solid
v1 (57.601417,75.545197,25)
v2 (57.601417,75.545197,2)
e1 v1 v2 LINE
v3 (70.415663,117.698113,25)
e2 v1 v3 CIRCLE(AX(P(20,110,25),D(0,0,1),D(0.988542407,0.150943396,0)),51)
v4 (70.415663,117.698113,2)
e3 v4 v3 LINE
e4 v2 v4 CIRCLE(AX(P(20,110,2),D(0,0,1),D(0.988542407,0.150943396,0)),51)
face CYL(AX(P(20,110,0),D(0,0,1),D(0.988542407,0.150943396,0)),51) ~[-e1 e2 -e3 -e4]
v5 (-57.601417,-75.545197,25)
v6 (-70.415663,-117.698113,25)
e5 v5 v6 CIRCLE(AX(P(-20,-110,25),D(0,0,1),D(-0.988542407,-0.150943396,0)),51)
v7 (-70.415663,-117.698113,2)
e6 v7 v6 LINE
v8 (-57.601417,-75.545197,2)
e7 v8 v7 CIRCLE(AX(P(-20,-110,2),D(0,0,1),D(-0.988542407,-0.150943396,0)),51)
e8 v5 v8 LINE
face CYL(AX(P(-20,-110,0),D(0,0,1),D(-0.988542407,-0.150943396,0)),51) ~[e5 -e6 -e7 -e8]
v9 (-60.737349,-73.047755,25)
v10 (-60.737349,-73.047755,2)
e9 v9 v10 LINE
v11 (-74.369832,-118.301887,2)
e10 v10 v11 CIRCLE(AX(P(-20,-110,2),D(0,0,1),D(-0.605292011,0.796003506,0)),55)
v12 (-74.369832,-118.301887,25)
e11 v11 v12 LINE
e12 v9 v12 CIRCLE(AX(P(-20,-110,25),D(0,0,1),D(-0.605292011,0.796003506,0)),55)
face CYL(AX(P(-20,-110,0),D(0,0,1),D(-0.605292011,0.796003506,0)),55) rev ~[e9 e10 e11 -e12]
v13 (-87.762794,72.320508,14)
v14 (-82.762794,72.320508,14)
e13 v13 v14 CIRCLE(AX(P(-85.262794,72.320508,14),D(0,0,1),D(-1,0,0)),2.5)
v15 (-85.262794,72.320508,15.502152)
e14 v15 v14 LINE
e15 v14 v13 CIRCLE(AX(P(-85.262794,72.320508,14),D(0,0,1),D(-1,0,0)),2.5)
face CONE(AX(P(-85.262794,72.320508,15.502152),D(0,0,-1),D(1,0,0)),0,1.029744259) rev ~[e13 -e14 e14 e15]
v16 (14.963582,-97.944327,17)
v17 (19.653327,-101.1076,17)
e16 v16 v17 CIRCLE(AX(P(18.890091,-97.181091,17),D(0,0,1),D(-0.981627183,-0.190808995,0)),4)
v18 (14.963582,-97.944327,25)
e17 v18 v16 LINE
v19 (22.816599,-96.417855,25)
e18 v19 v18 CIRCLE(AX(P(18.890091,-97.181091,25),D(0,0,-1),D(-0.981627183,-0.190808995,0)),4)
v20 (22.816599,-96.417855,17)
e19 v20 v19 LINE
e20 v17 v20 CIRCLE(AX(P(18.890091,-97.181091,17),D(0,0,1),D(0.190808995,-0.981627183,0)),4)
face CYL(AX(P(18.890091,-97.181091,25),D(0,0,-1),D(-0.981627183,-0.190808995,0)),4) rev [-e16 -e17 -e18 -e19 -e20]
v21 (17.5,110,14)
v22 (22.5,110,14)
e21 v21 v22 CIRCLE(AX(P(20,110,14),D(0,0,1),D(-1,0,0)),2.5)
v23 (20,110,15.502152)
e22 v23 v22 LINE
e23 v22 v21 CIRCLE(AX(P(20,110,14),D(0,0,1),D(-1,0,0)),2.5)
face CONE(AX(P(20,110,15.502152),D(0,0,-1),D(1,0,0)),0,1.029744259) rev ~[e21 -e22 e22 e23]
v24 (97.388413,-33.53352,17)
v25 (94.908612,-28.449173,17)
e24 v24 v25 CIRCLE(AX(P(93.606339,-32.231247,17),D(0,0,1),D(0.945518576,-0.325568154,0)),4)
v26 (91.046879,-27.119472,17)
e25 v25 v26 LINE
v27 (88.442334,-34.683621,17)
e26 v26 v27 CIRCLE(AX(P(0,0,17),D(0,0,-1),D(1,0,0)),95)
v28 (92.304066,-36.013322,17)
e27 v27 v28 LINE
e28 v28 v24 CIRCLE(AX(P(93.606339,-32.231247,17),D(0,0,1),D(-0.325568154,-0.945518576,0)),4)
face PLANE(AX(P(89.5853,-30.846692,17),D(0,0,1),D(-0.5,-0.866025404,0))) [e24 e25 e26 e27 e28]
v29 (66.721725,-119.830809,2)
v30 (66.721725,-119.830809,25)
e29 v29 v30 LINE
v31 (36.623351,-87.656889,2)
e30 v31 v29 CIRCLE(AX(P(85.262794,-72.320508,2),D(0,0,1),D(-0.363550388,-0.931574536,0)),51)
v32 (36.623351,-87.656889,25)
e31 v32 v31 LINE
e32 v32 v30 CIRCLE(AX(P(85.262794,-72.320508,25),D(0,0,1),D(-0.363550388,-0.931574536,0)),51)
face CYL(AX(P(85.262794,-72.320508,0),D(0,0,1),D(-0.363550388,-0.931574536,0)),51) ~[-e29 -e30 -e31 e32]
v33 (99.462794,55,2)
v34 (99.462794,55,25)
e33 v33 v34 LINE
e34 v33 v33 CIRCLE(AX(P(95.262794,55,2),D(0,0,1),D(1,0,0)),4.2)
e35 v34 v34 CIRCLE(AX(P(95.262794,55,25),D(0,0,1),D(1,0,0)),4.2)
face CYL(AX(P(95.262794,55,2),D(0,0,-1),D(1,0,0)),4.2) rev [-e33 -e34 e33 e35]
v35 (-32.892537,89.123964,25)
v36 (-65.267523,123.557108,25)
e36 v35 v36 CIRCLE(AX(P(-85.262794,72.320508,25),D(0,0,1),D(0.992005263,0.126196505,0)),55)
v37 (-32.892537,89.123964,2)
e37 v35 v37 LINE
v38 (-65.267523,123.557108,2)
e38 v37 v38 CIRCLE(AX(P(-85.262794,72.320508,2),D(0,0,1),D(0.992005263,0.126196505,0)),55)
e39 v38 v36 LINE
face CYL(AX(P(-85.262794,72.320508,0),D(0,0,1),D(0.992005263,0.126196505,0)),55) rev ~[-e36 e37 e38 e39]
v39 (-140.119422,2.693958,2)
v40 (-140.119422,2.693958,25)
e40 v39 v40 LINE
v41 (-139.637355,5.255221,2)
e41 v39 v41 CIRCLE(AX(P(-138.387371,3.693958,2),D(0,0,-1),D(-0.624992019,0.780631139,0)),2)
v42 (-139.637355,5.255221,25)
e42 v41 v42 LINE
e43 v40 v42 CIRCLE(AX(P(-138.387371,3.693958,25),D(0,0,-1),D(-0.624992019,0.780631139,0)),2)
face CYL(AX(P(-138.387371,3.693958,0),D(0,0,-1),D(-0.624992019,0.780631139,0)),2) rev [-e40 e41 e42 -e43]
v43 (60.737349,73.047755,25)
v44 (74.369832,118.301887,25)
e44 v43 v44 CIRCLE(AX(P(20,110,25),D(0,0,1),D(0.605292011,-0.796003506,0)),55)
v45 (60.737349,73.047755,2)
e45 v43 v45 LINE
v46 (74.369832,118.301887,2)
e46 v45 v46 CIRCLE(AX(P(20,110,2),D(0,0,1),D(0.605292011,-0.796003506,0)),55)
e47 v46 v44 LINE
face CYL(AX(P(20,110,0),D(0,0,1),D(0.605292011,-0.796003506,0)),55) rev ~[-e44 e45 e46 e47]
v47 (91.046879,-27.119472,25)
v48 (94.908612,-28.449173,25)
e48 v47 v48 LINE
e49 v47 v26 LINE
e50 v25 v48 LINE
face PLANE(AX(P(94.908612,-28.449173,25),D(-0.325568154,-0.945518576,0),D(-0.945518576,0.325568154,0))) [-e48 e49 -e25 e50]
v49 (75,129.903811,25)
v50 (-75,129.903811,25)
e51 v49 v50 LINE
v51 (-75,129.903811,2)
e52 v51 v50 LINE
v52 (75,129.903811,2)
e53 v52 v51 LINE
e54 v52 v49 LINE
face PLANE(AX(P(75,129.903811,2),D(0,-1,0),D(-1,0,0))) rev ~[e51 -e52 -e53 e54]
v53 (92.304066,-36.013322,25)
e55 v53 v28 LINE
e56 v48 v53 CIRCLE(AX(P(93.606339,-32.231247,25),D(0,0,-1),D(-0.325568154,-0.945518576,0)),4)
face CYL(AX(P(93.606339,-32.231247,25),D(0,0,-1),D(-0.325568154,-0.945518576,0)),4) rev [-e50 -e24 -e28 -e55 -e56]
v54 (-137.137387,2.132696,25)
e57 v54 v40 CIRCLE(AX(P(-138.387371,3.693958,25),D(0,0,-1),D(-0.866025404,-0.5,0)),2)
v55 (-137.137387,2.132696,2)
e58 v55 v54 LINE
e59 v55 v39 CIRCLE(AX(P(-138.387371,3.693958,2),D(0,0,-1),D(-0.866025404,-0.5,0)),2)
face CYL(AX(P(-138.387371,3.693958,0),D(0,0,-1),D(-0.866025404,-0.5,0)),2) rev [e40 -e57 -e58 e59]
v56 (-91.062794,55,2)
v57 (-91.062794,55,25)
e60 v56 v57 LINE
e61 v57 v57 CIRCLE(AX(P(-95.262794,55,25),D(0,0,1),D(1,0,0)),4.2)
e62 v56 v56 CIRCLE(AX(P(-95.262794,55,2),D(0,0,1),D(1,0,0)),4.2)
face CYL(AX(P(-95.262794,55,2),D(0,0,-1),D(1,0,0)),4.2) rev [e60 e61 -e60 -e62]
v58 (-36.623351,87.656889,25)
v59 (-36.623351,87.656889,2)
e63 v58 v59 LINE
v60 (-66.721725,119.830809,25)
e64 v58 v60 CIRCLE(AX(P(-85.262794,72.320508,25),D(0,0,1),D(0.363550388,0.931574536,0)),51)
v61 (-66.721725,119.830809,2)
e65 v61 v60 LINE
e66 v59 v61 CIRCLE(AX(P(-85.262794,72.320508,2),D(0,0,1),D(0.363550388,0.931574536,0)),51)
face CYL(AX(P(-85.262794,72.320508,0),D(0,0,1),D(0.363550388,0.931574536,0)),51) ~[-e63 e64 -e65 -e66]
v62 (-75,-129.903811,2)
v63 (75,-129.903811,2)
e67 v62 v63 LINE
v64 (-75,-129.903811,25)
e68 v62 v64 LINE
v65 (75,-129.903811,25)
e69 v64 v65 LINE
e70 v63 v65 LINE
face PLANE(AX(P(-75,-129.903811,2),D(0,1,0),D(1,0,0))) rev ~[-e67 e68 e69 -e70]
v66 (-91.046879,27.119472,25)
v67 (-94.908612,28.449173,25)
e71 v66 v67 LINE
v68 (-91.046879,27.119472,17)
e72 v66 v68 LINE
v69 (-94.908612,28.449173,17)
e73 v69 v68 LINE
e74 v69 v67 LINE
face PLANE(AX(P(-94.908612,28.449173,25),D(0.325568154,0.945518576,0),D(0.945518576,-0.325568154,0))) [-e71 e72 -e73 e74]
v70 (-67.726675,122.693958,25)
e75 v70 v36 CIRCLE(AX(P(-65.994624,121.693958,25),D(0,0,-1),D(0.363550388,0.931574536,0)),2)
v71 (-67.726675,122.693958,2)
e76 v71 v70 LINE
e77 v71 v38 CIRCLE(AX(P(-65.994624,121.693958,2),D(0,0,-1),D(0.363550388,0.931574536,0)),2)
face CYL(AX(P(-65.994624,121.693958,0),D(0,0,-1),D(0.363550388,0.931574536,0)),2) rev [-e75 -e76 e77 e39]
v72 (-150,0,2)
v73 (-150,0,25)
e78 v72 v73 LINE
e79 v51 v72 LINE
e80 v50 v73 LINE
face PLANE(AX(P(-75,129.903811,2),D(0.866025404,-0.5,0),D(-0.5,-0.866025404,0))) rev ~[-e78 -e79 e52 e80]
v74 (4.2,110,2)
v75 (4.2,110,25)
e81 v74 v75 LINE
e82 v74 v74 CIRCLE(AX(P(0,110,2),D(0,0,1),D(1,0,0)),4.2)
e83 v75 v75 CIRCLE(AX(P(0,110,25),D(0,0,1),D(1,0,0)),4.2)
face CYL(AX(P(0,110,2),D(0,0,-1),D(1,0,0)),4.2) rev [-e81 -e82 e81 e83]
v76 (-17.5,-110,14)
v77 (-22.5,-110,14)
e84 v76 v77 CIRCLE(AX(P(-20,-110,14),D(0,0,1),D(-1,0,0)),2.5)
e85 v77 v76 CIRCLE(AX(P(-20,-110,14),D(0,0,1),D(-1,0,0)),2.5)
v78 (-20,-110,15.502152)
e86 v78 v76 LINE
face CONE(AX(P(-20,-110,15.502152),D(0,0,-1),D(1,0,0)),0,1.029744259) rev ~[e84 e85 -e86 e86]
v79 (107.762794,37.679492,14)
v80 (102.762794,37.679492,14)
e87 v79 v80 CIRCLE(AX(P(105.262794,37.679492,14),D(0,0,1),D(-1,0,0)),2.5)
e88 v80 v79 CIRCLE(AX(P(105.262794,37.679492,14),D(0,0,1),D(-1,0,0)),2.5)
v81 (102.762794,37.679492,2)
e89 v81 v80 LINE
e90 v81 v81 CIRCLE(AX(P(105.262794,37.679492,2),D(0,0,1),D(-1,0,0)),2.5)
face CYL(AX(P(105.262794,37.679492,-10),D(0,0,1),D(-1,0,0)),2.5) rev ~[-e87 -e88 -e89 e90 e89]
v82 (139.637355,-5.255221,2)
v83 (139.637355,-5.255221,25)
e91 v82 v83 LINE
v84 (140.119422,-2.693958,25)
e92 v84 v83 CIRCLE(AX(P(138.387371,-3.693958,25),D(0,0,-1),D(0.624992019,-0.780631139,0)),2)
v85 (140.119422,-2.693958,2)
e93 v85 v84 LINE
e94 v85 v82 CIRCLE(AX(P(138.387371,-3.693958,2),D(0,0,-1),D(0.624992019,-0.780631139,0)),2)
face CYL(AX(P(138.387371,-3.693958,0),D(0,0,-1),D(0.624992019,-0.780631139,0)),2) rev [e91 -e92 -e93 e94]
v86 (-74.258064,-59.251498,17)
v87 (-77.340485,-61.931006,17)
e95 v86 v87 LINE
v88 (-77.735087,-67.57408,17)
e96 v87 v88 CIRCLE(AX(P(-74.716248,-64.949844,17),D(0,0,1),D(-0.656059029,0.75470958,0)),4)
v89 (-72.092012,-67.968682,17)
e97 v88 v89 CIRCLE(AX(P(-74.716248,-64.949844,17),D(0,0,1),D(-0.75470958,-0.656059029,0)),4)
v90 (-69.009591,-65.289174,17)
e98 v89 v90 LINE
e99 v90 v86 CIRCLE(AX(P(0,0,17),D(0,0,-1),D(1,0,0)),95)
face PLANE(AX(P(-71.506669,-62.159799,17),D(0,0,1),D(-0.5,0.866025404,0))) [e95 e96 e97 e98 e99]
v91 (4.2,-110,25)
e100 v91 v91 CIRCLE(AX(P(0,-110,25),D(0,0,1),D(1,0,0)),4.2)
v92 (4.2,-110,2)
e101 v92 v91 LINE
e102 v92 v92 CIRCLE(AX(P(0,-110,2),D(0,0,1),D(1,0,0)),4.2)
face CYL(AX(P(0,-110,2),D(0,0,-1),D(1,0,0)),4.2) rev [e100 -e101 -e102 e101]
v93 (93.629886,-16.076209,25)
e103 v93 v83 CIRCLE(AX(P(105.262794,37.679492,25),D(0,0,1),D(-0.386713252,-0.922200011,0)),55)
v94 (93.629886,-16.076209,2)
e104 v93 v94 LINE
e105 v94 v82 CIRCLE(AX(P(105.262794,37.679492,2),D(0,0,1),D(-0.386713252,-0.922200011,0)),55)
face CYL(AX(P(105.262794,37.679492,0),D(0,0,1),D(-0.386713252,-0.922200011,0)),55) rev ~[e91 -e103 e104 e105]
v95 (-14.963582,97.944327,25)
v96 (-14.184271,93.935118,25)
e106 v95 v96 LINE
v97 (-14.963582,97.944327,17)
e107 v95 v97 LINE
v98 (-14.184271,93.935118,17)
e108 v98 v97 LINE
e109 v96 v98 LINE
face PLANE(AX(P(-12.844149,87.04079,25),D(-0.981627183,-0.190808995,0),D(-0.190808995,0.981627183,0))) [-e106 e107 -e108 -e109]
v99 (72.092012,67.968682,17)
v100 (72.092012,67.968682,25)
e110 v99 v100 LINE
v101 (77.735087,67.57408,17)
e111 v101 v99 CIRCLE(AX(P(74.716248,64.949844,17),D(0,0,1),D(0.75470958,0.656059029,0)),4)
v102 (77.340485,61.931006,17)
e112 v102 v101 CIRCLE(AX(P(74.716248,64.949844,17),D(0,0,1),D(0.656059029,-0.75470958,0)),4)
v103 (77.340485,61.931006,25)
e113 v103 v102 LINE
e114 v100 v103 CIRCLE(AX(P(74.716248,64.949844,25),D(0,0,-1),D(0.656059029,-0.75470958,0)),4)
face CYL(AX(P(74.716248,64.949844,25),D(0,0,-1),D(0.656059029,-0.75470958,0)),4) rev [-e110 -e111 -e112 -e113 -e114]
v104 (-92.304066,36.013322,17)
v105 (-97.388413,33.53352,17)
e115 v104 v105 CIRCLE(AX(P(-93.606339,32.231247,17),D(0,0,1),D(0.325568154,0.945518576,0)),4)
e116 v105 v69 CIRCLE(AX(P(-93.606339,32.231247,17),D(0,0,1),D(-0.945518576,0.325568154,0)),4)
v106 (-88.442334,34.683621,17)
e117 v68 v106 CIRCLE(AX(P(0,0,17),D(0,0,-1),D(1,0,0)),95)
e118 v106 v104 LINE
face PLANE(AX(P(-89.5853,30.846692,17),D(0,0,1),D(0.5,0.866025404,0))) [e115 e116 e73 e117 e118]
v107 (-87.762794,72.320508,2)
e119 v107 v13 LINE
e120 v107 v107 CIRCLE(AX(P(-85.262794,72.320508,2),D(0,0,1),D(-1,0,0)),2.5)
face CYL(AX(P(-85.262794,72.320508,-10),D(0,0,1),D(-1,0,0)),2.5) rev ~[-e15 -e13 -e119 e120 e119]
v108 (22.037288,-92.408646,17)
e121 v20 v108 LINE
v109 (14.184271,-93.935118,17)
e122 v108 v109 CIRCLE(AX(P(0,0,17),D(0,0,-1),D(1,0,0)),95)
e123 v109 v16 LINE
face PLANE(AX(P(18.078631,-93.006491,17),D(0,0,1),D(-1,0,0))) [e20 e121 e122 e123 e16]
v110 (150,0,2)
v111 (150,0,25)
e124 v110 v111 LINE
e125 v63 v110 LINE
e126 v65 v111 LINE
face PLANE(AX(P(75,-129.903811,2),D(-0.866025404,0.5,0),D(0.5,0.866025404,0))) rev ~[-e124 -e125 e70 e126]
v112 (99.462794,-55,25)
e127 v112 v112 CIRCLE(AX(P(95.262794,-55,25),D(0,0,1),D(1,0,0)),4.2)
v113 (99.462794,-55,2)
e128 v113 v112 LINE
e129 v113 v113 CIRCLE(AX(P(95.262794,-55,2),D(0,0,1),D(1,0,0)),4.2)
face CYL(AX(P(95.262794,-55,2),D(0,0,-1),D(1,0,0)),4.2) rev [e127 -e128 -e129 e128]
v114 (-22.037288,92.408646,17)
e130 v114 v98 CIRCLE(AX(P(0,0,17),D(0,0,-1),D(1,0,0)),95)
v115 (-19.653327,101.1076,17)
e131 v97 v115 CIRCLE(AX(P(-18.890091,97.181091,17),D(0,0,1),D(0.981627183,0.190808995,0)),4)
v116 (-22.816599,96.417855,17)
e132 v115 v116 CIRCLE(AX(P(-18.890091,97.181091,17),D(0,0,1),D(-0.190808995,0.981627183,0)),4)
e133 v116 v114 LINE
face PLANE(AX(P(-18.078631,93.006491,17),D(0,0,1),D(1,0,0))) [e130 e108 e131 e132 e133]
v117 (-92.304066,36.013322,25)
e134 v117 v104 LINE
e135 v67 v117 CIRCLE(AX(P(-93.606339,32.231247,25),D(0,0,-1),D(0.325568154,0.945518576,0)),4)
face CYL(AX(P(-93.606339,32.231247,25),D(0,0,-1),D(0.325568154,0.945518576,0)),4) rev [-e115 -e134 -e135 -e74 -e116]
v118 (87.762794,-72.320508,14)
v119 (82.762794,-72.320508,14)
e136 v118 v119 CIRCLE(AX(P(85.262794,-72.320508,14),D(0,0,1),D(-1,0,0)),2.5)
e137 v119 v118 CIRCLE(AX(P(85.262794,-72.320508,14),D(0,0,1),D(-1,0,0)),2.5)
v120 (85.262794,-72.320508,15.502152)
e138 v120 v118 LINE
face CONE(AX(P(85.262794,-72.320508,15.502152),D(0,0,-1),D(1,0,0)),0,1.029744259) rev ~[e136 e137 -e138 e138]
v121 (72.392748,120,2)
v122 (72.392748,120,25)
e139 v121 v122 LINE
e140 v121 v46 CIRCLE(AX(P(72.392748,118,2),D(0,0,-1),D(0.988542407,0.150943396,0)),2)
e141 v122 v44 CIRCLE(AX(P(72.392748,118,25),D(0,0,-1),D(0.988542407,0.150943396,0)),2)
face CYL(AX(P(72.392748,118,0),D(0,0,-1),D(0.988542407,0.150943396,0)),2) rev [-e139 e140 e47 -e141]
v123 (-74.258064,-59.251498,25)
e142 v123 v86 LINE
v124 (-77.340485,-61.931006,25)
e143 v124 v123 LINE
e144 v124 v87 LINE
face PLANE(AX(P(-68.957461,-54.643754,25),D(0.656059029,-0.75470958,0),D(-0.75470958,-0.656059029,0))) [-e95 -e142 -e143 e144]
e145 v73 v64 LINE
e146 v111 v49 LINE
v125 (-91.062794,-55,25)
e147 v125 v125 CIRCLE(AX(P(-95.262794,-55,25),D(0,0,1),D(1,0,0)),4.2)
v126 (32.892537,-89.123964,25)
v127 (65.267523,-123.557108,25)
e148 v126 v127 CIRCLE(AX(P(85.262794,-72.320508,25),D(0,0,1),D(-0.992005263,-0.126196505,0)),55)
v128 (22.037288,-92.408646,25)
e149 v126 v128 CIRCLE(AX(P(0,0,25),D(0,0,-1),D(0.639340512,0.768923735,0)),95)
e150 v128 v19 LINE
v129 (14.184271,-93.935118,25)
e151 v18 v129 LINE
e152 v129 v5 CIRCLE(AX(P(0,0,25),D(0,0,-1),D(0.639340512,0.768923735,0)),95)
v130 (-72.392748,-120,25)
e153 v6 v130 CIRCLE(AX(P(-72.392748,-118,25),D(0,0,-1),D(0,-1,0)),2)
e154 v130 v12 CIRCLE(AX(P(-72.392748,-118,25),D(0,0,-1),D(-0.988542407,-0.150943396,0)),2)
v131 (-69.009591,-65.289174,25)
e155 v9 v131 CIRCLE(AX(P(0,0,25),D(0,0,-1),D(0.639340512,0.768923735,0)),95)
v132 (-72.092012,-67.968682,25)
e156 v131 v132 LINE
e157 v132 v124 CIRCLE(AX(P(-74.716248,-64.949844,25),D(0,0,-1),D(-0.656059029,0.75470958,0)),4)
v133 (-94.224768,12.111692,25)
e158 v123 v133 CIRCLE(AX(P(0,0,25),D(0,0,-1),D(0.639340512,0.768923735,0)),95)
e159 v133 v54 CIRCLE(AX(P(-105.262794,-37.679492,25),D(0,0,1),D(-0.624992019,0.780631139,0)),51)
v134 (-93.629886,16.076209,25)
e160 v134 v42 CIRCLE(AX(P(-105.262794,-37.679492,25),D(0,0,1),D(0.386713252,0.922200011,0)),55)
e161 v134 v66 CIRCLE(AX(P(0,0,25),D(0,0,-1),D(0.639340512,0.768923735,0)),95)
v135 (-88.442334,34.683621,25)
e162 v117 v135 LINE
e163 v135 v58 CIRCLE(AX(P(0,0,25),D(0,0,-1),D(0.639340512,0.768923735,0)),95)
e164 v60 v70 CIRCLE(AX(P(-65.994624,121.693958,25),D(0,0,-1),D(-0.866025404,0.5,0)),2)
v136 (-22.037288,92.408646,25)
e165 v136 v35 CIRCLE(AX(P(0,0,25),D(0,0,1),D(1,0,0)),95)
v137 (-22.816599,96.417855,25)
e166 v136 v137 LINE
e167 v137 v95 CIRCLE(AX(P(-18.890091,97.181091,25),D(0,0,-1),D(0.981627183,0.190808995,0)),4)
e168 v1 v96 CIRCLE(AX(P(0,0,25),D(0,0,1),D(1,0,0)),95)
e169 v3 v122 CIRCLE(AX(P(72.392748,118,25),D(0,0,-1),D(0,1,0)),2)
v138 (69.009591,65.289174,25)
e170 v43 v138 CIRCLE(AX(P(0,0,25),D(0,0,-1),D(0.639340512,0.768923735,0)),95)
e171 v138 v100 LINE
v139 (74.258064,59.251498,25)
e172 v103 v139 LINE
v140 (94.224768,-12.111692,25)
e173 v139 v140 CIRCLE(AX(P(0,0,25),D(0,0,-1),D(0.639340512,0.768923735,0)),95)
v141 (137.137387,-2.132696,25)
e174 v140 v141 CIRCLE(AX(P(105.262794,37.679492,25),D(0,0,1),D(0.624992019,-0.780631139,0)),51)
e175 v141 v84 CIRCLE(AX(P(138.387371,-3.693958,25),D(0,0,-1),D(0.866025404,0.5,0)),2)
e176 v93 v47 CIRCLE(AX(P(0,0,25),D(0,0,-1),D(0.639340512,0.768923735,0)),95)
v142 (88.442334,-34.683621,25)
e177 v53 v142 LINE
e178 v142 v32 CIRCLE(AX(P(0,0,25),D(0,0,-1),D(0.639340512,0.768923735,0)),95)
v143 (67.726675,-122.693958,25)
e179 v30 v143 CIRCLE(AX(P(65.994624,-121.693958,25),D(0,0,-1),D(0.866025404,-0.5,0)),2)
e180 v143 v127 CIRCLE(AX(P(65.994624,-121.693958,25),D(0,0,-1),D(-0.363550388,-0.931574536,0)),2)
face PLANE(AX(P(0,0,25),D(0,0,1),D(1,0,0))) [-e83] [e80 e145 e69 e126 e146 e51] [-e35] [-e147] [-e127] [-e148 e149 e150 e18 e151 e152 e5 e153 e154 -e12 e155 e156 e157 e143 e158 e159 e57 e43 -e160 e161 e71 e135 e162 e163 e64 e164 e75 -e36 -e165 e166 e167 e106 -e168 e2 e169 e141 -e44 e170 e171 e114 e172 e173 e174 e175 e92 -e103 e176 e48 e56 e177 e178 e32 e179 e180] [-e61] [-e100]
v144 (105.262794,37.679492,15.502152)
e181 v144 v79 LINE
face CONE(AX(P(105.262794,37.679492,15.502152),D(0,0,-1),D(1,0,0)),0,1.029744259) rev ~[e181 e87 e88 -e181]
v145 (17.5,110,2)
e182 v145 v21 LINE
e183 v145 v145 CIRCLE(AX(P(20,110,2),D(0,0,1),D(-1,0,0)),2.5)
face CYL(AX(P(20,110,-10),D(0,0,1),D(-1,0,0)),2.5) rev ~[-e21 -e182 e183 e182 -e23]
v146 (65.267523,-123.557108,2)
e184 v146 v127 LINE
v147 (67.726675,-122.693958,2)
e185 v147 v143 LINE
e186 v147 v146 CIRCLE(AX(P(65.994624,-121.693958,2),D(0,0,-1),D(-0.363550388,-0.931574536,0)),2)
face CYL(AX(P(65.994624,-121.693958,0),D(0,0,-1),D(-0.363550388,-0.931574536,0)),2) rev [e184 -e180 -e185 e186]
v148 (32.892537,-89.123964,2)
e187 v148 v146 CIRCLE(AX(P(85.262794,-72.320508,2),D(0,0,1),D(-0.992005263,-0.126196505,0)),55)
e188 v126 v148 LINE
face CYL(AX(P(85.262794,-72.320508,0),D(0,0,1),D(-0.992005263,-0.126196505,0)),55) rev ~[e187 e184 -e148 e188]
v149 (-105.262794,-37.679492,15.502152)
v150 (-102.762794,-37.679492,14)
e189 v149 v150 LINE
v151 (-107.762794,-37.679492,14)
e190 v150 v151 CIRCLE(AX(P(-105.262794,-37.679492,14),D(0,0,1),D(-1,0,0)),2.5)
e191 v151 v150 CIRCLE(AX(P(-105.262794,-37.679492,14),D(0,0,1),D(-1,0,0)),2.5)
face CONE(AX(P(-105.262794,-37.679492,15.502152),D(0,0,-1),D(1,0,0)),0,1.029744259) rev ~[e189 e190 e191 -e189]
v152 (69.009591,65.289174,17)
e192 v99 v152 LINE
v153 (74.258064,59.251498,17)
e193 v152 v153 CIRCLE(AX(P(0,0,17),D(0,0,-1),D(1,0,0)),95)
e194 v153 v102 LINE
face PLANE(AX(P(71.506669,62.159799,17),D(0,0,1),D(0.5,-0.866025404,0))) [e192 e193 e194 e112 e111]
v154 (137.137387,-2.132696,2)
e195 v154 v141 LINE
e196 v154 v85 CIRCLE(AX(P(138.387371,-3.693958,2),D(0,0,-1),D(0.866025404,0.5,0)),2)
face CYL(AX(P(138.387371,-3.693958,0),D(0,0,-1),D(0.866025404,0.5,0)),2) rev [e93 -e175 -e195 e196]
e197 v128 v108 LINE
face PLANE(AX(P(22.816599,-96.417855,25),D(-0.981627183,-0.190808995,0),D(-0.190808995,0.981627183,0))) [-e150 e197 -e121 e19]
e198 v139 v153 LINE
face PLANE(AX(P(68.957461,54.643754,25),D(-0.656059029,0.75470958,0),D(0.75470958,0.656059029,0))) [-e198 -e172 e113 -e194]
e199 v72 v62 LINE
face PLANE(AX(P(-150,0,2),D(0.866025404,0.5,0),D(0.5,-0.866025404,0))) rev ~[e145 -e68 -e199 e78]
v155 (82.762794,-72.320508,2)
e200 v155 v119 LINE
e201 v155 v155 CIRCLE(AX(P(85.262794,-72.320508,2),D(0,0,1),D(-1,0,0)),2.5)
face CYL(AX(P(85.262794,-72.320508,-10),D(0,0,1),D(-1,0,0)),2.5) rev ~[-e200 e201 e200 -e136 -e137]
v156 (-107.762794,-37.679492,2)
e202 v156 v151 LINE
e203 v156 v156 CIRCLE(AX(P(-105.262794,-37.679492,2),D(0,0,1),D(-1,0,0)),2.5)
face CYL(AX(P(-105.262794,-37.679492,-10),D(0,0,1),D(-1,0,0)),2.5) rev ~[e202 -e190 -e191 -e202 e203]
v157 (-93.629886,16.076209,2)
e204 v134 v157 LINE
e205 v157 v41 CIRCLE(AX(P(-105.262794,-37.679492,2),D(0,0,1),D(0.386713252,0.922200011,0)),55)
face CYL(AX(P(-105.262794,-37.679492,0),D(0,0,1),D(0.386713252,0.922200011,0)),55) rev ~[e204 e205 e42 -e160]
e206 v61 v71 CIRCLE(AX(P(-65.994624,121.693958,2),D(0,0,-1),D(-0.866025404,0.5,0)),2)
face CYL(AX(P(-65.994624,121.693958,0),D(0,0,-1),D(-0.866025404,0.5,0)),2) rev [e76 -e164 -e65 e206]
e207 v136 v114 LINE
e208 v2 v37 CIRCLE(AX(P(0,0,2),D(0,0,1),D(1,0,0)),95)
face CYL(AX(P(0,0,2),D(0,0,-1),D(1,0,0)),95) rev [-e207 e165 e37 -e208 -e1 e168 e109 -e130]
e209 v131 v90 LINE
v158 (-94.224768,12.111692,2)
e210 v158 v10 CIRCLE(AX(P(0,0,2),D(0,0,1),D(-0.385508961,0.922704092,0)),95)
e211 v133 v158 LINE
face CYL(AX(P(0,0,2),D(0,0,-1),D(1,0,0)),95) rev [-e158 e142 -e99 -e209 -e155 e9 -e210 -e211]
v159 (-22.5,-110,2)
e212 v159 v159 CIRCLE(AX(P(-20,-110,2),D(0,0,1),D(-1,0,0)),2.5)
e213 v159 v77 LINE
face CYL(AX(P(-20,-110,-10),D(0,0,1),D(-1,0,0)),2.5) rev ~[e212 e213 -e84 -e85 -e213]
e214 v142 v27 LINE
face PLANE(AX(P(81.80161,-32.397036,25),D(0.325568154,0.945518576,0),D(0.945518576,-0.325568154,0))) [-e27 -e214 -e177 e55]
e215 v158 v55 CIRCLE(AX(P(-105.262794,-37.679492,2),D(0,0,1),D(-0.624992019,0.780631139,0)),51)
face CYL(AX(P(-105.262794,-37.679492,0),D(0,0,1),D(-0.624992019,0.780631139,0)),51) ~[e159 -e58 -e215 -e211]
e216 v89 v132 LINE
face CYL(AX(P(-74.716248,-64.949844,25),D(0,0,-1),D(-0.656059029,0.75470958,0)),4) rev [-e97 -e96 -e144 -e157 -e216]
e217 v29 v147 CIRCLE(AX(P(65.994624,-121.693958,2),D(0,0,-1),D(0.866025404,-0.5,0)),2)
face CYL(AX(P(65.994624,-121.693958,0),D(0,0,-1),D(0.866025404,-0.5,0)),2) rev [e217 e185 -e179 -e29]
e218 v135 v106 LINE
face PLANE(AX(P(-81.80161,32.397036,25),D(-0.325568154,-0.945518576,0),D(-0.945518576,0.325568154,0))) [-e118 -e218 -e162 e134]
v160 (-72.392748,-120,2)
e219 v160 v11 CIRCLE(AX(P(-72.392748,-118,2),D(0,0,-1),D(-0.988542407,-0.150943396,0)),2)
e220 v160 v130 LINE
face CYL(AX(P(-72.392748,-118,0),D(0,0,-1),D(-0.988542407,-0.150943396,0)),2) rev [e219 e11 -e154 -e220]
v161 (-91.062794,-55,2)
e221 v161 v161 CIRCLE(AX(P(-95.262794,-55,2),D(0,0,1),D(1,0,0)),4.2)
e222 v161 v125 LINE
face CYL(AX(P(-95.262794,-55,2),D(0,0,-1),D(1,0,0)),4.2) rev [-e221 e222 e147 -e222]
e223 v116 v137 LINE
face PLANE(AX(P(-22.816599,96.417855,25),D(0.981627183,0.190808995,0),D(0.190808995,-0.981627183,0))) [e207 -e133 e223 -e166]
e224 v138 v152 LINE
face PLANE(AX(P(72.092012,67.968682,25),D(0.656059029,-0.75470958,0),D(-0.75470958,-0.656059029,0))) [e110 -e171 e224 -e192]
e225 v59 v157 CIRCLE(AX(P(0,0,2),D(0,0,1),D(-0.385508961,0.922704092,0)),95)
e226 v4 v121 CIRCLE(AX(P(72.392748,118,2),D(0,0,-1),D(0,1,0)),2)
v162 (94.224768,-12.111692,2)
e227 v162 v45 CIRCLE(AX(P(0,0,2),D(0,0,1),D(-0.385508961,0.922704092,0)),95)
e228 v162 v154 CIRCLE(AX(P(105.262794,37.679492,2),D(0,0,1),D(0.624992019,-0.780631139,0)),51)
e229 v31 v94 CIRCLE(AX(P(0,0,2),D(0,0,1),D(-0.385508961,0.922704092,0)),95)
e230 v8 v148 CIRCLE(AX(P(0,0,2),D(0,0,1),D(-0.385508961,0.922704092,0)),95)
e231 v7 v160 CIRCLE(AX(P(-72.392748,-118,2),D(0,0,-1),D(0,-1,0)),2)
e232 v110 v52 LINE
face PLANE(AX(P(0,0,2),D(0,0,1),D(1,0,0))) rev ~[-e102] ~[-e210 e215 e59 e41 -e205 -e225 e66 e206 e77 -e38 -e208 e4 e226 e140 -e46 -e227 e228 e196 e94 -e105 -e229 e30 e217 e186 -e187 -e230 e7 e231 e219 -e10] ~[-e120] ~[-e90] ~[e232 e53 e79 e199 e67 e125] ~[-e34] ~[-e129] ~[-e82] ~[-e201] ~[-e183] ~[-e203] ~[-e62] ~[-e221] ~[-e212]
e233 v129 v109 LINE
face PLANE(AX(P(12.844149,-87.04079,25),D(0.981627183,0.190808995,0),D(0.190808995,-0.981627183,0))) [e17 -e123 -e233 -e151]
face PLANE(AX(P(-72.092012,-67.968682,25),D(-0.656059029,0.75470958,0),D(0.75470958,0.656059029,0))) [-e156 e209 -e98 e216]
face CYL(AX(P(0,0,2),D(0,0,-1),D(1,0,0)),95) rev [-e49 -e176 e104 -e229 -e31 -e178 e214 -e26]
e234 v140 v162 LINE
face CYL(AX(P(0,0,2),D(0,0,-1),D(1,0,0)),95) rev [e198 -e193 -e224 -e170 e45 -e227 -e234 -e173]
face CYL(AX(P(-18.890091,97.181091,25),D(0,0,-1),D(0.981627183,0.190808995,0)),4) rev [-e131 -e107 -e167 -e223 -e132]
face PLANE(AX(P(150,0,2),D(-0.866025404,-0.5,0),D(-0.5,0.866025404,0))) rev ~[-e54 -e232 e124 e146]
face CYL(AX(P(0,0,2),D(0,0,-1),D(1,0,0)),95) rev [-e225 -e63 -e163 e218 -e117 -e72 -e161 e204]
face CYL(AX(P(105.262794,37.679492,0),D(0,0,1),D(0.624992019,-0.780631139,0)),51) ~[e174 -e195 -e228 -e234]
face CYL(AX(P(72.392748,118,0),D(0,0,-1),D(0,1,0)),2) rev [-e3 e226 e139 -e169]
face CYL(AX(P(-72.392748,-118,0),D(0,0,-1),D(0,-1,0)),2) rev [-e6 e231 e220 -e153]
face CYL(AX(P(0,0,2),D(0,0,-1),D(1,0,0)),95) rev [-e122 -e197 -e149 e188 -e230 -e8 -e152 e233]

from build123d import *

# Parameters (mm, degrees)
F2_START      = 2
F0_R          = 4.2
F0_R_2        = 95
F2_DEPTH      = 23
F4_DEPTH      = 35
F4_DEPTH_BACK = 10
F5_COUNT      = 6
F8_DEPTH      = 8
F8_DEPTH_BACK = 10
F9_COUNT      = 6
F12_D         = 5
F12_DEPTH     = 12
F12_START     = 2
F12_TIP       = 1.5021515476


with BuildPart() as f2:
    # F0 (on Top) → F2 (new body)
    with BuildSketch(Plane.XY.offset(F2_START)):
        Polygon((75, 129.9038105677), (-75, 129.9038105677), (-150, 0), (-75, -129.9038105677), (75, -129.9038105677), (150, 0), align=None)
        with Locations((-95.2627944163, -55)):
            Circle(F0_R, mode=Mode.SUBTRACT)
        with Locations((0, -110)):
            Circle(F0_R, mode=Mode.SUBTRACT)
        with Locations((95.2627944163, -55)):
            Circle(F0_R, mode=Mode.SUBTRACT)
        with Locations((-95.2627944163, 55)):
            Circle(F0_R, mode=Mode.SUBTRACT)
        Circle(F0_R_2, mode=Mode.SUBTRACT)
        with Locations((95.2627944163, 55)):
            Circle(F0_R, mode=Mode.SUBTRACT)
        with Locations((0, 110)):
            Circle(F0_R, mode=Mode.SUBTRACT)
    extrude(amount=F2_DEPTH)


with BuildPart() as f4:
    # F3 (on Top) → F4 (new body, two sides)
    with BuildSketch(Plane.XY) as f4_sk:
        with BuildLine():
            ThreePointArc((-34.5435296861, 77.6643068393), (-32.6327882373, 78.4863117484), (-30.7025049427, 79.2613158498))
            ThreePointArc((-30.7025049427, 79.2613158498), (-41.9019572207, 106.1559598637), (-65.2675230757, 123.5571075336))
            ThreePointArc((-65.2675230757, 123.5571075336), (-66.656996648, 123.5810891624), (-67.7266746593, 122.6939584625))
            ThreePointArc((-67.7266746593, 122.6939584625), (-67.8817545517, 121.0315856662), (-66.7217246277, 119.8308093913))
            ThreePointArc((-66.7217246277, 119.8308093913), (-44.7195832857, 103.2599332678), (-34.5435296861, 77.6643068393))
        make_face()
    extrude(amount=F4_DEPTH)
    extrude(f4_sk.sketch, amount=-F4_DEPTH_BACK)


with BuildPart() as f5_1:
    # F5: instance of F4
    add(f4.part.rotate(Axis((0, 0, -0.1854561269), (0, 0, 1)), 1 * 360 / F5_COUNT))


with BuildPart() as f5_2:
    # F5: instance of F4
    add(f4.part.rotate(Axis((0, 0, -0.1854561269), (0, 0, 1)), 2 * 360 / F5_COUNT))


with BuildPart() as f5_3:
    # F5: instance of F4
    add(f4.part.rotate(Axis((0, 0, -0.1854561269), (0, 0, 1)), 3 * 360 / F5_COUNT))


with BuildPart() as f5_4:
    # F5: instance of F4
    add(f4.part.rotate(Axis((0, 0, -0.1854561269), (0, 0, 1)), 4 * 360 / F5_COUNT))


with BuildPart() as f5_5:
    # F5: instance of F4
    add(f4.part.rotate(Axis((0, 0, -0.1854561269), (0, 0, 1)), 5 * 360 / F5_COUNT))


with BuildPart() as f2_1:
    add(f2.part)

    # F6: cut F4, F5_5, F5_4, F5_3, F5_2, F5_1
    add(f4.part, mode=Mode.SUBTRACT)
    add(f5_5.part, mode=Mode.SUBTRACT)
    add(f5_4.part, mode=Mode.SUBTRACT)
    add(f5_3.part, mode=Mode.SUBTRACT)
    add(f5_2.part, mode=Mode.SUBTRACT)
    add(f5_1.part, mode=Mode.SUBTRACT)

    # F9: F8 ×6 about axis
    f9_axis = Axis((0, 0, -0.1854561269), (0, 0, 1))


with BuildPart() as f8:
    # F7 (on face) → F8 (new body, two sides)
    with BuildSketch(Plane.XY.offset(25)) as f8_sk:
        with BuildLine():
            ThreePointArc((-14.9635818085, 97.9443271428), (-16.6533189284, 100.4972414515), (-19.6533265238, 101.1075998951))
            ThreePointArc((-19.6533265238, 101.1075998951), (-22.2062408325, 99.4178627752), (-22.8165992761, 96.4178551798))
            Line((-22.8165992761, 96.4178551798), (-20.6971664161, 85.5143183486))
            Line((-20.6971664161, 85.5143183486), (-16.7706576823, 86.2775543301))
            Line((-16.7706576823, 86.2775543301), (-12.8441489485, 87.0407903117))
            Line((-12.8441489485, 87.0407903117), (-14.9635818085, 97.9443271428))
        make_face()
    extrude(amount=-F8_DEPTH)
    extrude(f8_sk.sketch, amount=F8_DEPTH_BACK)


with BuildPart() as f2_2:
    add(f2_1.part)
    for i in range(1, F9_COUNT):
        add(f8.part.rotate(f9_axis, i * 360 / F9_COUNT), mode=Mode.SUBTRACT)

    # F9#seed: cut F8
    add(f8.part, mode=Mode.SUBTRACT)

    # F12
    # its depths count from where the whole tool has entered the part; down to there all is cleared
    with Locations(Plane(origin=(0, 0, 0), x_dir=(1, 0, 0), z_dir=(0, 0, -1)).offset(-F12_START)):
        with Locations((-85.2627944163, -72.3205080757), (20, -110), (105.2627944163, -37.6794919243), (85.2627944163, 72.3205080757), (-20, 110), (-105.2627944163, 37.6794919243)):
            Hole(F12_D / 2, depth=F12_DEPTH)
            with Locations((0, 0, -(F12_DEPTH + F12_TIP / 2))):  # 118° drill point
                Cone(0, F12_D / 2, F12_TIP, mode=Mode.SUBTRACT)


solid = f2_2.part
